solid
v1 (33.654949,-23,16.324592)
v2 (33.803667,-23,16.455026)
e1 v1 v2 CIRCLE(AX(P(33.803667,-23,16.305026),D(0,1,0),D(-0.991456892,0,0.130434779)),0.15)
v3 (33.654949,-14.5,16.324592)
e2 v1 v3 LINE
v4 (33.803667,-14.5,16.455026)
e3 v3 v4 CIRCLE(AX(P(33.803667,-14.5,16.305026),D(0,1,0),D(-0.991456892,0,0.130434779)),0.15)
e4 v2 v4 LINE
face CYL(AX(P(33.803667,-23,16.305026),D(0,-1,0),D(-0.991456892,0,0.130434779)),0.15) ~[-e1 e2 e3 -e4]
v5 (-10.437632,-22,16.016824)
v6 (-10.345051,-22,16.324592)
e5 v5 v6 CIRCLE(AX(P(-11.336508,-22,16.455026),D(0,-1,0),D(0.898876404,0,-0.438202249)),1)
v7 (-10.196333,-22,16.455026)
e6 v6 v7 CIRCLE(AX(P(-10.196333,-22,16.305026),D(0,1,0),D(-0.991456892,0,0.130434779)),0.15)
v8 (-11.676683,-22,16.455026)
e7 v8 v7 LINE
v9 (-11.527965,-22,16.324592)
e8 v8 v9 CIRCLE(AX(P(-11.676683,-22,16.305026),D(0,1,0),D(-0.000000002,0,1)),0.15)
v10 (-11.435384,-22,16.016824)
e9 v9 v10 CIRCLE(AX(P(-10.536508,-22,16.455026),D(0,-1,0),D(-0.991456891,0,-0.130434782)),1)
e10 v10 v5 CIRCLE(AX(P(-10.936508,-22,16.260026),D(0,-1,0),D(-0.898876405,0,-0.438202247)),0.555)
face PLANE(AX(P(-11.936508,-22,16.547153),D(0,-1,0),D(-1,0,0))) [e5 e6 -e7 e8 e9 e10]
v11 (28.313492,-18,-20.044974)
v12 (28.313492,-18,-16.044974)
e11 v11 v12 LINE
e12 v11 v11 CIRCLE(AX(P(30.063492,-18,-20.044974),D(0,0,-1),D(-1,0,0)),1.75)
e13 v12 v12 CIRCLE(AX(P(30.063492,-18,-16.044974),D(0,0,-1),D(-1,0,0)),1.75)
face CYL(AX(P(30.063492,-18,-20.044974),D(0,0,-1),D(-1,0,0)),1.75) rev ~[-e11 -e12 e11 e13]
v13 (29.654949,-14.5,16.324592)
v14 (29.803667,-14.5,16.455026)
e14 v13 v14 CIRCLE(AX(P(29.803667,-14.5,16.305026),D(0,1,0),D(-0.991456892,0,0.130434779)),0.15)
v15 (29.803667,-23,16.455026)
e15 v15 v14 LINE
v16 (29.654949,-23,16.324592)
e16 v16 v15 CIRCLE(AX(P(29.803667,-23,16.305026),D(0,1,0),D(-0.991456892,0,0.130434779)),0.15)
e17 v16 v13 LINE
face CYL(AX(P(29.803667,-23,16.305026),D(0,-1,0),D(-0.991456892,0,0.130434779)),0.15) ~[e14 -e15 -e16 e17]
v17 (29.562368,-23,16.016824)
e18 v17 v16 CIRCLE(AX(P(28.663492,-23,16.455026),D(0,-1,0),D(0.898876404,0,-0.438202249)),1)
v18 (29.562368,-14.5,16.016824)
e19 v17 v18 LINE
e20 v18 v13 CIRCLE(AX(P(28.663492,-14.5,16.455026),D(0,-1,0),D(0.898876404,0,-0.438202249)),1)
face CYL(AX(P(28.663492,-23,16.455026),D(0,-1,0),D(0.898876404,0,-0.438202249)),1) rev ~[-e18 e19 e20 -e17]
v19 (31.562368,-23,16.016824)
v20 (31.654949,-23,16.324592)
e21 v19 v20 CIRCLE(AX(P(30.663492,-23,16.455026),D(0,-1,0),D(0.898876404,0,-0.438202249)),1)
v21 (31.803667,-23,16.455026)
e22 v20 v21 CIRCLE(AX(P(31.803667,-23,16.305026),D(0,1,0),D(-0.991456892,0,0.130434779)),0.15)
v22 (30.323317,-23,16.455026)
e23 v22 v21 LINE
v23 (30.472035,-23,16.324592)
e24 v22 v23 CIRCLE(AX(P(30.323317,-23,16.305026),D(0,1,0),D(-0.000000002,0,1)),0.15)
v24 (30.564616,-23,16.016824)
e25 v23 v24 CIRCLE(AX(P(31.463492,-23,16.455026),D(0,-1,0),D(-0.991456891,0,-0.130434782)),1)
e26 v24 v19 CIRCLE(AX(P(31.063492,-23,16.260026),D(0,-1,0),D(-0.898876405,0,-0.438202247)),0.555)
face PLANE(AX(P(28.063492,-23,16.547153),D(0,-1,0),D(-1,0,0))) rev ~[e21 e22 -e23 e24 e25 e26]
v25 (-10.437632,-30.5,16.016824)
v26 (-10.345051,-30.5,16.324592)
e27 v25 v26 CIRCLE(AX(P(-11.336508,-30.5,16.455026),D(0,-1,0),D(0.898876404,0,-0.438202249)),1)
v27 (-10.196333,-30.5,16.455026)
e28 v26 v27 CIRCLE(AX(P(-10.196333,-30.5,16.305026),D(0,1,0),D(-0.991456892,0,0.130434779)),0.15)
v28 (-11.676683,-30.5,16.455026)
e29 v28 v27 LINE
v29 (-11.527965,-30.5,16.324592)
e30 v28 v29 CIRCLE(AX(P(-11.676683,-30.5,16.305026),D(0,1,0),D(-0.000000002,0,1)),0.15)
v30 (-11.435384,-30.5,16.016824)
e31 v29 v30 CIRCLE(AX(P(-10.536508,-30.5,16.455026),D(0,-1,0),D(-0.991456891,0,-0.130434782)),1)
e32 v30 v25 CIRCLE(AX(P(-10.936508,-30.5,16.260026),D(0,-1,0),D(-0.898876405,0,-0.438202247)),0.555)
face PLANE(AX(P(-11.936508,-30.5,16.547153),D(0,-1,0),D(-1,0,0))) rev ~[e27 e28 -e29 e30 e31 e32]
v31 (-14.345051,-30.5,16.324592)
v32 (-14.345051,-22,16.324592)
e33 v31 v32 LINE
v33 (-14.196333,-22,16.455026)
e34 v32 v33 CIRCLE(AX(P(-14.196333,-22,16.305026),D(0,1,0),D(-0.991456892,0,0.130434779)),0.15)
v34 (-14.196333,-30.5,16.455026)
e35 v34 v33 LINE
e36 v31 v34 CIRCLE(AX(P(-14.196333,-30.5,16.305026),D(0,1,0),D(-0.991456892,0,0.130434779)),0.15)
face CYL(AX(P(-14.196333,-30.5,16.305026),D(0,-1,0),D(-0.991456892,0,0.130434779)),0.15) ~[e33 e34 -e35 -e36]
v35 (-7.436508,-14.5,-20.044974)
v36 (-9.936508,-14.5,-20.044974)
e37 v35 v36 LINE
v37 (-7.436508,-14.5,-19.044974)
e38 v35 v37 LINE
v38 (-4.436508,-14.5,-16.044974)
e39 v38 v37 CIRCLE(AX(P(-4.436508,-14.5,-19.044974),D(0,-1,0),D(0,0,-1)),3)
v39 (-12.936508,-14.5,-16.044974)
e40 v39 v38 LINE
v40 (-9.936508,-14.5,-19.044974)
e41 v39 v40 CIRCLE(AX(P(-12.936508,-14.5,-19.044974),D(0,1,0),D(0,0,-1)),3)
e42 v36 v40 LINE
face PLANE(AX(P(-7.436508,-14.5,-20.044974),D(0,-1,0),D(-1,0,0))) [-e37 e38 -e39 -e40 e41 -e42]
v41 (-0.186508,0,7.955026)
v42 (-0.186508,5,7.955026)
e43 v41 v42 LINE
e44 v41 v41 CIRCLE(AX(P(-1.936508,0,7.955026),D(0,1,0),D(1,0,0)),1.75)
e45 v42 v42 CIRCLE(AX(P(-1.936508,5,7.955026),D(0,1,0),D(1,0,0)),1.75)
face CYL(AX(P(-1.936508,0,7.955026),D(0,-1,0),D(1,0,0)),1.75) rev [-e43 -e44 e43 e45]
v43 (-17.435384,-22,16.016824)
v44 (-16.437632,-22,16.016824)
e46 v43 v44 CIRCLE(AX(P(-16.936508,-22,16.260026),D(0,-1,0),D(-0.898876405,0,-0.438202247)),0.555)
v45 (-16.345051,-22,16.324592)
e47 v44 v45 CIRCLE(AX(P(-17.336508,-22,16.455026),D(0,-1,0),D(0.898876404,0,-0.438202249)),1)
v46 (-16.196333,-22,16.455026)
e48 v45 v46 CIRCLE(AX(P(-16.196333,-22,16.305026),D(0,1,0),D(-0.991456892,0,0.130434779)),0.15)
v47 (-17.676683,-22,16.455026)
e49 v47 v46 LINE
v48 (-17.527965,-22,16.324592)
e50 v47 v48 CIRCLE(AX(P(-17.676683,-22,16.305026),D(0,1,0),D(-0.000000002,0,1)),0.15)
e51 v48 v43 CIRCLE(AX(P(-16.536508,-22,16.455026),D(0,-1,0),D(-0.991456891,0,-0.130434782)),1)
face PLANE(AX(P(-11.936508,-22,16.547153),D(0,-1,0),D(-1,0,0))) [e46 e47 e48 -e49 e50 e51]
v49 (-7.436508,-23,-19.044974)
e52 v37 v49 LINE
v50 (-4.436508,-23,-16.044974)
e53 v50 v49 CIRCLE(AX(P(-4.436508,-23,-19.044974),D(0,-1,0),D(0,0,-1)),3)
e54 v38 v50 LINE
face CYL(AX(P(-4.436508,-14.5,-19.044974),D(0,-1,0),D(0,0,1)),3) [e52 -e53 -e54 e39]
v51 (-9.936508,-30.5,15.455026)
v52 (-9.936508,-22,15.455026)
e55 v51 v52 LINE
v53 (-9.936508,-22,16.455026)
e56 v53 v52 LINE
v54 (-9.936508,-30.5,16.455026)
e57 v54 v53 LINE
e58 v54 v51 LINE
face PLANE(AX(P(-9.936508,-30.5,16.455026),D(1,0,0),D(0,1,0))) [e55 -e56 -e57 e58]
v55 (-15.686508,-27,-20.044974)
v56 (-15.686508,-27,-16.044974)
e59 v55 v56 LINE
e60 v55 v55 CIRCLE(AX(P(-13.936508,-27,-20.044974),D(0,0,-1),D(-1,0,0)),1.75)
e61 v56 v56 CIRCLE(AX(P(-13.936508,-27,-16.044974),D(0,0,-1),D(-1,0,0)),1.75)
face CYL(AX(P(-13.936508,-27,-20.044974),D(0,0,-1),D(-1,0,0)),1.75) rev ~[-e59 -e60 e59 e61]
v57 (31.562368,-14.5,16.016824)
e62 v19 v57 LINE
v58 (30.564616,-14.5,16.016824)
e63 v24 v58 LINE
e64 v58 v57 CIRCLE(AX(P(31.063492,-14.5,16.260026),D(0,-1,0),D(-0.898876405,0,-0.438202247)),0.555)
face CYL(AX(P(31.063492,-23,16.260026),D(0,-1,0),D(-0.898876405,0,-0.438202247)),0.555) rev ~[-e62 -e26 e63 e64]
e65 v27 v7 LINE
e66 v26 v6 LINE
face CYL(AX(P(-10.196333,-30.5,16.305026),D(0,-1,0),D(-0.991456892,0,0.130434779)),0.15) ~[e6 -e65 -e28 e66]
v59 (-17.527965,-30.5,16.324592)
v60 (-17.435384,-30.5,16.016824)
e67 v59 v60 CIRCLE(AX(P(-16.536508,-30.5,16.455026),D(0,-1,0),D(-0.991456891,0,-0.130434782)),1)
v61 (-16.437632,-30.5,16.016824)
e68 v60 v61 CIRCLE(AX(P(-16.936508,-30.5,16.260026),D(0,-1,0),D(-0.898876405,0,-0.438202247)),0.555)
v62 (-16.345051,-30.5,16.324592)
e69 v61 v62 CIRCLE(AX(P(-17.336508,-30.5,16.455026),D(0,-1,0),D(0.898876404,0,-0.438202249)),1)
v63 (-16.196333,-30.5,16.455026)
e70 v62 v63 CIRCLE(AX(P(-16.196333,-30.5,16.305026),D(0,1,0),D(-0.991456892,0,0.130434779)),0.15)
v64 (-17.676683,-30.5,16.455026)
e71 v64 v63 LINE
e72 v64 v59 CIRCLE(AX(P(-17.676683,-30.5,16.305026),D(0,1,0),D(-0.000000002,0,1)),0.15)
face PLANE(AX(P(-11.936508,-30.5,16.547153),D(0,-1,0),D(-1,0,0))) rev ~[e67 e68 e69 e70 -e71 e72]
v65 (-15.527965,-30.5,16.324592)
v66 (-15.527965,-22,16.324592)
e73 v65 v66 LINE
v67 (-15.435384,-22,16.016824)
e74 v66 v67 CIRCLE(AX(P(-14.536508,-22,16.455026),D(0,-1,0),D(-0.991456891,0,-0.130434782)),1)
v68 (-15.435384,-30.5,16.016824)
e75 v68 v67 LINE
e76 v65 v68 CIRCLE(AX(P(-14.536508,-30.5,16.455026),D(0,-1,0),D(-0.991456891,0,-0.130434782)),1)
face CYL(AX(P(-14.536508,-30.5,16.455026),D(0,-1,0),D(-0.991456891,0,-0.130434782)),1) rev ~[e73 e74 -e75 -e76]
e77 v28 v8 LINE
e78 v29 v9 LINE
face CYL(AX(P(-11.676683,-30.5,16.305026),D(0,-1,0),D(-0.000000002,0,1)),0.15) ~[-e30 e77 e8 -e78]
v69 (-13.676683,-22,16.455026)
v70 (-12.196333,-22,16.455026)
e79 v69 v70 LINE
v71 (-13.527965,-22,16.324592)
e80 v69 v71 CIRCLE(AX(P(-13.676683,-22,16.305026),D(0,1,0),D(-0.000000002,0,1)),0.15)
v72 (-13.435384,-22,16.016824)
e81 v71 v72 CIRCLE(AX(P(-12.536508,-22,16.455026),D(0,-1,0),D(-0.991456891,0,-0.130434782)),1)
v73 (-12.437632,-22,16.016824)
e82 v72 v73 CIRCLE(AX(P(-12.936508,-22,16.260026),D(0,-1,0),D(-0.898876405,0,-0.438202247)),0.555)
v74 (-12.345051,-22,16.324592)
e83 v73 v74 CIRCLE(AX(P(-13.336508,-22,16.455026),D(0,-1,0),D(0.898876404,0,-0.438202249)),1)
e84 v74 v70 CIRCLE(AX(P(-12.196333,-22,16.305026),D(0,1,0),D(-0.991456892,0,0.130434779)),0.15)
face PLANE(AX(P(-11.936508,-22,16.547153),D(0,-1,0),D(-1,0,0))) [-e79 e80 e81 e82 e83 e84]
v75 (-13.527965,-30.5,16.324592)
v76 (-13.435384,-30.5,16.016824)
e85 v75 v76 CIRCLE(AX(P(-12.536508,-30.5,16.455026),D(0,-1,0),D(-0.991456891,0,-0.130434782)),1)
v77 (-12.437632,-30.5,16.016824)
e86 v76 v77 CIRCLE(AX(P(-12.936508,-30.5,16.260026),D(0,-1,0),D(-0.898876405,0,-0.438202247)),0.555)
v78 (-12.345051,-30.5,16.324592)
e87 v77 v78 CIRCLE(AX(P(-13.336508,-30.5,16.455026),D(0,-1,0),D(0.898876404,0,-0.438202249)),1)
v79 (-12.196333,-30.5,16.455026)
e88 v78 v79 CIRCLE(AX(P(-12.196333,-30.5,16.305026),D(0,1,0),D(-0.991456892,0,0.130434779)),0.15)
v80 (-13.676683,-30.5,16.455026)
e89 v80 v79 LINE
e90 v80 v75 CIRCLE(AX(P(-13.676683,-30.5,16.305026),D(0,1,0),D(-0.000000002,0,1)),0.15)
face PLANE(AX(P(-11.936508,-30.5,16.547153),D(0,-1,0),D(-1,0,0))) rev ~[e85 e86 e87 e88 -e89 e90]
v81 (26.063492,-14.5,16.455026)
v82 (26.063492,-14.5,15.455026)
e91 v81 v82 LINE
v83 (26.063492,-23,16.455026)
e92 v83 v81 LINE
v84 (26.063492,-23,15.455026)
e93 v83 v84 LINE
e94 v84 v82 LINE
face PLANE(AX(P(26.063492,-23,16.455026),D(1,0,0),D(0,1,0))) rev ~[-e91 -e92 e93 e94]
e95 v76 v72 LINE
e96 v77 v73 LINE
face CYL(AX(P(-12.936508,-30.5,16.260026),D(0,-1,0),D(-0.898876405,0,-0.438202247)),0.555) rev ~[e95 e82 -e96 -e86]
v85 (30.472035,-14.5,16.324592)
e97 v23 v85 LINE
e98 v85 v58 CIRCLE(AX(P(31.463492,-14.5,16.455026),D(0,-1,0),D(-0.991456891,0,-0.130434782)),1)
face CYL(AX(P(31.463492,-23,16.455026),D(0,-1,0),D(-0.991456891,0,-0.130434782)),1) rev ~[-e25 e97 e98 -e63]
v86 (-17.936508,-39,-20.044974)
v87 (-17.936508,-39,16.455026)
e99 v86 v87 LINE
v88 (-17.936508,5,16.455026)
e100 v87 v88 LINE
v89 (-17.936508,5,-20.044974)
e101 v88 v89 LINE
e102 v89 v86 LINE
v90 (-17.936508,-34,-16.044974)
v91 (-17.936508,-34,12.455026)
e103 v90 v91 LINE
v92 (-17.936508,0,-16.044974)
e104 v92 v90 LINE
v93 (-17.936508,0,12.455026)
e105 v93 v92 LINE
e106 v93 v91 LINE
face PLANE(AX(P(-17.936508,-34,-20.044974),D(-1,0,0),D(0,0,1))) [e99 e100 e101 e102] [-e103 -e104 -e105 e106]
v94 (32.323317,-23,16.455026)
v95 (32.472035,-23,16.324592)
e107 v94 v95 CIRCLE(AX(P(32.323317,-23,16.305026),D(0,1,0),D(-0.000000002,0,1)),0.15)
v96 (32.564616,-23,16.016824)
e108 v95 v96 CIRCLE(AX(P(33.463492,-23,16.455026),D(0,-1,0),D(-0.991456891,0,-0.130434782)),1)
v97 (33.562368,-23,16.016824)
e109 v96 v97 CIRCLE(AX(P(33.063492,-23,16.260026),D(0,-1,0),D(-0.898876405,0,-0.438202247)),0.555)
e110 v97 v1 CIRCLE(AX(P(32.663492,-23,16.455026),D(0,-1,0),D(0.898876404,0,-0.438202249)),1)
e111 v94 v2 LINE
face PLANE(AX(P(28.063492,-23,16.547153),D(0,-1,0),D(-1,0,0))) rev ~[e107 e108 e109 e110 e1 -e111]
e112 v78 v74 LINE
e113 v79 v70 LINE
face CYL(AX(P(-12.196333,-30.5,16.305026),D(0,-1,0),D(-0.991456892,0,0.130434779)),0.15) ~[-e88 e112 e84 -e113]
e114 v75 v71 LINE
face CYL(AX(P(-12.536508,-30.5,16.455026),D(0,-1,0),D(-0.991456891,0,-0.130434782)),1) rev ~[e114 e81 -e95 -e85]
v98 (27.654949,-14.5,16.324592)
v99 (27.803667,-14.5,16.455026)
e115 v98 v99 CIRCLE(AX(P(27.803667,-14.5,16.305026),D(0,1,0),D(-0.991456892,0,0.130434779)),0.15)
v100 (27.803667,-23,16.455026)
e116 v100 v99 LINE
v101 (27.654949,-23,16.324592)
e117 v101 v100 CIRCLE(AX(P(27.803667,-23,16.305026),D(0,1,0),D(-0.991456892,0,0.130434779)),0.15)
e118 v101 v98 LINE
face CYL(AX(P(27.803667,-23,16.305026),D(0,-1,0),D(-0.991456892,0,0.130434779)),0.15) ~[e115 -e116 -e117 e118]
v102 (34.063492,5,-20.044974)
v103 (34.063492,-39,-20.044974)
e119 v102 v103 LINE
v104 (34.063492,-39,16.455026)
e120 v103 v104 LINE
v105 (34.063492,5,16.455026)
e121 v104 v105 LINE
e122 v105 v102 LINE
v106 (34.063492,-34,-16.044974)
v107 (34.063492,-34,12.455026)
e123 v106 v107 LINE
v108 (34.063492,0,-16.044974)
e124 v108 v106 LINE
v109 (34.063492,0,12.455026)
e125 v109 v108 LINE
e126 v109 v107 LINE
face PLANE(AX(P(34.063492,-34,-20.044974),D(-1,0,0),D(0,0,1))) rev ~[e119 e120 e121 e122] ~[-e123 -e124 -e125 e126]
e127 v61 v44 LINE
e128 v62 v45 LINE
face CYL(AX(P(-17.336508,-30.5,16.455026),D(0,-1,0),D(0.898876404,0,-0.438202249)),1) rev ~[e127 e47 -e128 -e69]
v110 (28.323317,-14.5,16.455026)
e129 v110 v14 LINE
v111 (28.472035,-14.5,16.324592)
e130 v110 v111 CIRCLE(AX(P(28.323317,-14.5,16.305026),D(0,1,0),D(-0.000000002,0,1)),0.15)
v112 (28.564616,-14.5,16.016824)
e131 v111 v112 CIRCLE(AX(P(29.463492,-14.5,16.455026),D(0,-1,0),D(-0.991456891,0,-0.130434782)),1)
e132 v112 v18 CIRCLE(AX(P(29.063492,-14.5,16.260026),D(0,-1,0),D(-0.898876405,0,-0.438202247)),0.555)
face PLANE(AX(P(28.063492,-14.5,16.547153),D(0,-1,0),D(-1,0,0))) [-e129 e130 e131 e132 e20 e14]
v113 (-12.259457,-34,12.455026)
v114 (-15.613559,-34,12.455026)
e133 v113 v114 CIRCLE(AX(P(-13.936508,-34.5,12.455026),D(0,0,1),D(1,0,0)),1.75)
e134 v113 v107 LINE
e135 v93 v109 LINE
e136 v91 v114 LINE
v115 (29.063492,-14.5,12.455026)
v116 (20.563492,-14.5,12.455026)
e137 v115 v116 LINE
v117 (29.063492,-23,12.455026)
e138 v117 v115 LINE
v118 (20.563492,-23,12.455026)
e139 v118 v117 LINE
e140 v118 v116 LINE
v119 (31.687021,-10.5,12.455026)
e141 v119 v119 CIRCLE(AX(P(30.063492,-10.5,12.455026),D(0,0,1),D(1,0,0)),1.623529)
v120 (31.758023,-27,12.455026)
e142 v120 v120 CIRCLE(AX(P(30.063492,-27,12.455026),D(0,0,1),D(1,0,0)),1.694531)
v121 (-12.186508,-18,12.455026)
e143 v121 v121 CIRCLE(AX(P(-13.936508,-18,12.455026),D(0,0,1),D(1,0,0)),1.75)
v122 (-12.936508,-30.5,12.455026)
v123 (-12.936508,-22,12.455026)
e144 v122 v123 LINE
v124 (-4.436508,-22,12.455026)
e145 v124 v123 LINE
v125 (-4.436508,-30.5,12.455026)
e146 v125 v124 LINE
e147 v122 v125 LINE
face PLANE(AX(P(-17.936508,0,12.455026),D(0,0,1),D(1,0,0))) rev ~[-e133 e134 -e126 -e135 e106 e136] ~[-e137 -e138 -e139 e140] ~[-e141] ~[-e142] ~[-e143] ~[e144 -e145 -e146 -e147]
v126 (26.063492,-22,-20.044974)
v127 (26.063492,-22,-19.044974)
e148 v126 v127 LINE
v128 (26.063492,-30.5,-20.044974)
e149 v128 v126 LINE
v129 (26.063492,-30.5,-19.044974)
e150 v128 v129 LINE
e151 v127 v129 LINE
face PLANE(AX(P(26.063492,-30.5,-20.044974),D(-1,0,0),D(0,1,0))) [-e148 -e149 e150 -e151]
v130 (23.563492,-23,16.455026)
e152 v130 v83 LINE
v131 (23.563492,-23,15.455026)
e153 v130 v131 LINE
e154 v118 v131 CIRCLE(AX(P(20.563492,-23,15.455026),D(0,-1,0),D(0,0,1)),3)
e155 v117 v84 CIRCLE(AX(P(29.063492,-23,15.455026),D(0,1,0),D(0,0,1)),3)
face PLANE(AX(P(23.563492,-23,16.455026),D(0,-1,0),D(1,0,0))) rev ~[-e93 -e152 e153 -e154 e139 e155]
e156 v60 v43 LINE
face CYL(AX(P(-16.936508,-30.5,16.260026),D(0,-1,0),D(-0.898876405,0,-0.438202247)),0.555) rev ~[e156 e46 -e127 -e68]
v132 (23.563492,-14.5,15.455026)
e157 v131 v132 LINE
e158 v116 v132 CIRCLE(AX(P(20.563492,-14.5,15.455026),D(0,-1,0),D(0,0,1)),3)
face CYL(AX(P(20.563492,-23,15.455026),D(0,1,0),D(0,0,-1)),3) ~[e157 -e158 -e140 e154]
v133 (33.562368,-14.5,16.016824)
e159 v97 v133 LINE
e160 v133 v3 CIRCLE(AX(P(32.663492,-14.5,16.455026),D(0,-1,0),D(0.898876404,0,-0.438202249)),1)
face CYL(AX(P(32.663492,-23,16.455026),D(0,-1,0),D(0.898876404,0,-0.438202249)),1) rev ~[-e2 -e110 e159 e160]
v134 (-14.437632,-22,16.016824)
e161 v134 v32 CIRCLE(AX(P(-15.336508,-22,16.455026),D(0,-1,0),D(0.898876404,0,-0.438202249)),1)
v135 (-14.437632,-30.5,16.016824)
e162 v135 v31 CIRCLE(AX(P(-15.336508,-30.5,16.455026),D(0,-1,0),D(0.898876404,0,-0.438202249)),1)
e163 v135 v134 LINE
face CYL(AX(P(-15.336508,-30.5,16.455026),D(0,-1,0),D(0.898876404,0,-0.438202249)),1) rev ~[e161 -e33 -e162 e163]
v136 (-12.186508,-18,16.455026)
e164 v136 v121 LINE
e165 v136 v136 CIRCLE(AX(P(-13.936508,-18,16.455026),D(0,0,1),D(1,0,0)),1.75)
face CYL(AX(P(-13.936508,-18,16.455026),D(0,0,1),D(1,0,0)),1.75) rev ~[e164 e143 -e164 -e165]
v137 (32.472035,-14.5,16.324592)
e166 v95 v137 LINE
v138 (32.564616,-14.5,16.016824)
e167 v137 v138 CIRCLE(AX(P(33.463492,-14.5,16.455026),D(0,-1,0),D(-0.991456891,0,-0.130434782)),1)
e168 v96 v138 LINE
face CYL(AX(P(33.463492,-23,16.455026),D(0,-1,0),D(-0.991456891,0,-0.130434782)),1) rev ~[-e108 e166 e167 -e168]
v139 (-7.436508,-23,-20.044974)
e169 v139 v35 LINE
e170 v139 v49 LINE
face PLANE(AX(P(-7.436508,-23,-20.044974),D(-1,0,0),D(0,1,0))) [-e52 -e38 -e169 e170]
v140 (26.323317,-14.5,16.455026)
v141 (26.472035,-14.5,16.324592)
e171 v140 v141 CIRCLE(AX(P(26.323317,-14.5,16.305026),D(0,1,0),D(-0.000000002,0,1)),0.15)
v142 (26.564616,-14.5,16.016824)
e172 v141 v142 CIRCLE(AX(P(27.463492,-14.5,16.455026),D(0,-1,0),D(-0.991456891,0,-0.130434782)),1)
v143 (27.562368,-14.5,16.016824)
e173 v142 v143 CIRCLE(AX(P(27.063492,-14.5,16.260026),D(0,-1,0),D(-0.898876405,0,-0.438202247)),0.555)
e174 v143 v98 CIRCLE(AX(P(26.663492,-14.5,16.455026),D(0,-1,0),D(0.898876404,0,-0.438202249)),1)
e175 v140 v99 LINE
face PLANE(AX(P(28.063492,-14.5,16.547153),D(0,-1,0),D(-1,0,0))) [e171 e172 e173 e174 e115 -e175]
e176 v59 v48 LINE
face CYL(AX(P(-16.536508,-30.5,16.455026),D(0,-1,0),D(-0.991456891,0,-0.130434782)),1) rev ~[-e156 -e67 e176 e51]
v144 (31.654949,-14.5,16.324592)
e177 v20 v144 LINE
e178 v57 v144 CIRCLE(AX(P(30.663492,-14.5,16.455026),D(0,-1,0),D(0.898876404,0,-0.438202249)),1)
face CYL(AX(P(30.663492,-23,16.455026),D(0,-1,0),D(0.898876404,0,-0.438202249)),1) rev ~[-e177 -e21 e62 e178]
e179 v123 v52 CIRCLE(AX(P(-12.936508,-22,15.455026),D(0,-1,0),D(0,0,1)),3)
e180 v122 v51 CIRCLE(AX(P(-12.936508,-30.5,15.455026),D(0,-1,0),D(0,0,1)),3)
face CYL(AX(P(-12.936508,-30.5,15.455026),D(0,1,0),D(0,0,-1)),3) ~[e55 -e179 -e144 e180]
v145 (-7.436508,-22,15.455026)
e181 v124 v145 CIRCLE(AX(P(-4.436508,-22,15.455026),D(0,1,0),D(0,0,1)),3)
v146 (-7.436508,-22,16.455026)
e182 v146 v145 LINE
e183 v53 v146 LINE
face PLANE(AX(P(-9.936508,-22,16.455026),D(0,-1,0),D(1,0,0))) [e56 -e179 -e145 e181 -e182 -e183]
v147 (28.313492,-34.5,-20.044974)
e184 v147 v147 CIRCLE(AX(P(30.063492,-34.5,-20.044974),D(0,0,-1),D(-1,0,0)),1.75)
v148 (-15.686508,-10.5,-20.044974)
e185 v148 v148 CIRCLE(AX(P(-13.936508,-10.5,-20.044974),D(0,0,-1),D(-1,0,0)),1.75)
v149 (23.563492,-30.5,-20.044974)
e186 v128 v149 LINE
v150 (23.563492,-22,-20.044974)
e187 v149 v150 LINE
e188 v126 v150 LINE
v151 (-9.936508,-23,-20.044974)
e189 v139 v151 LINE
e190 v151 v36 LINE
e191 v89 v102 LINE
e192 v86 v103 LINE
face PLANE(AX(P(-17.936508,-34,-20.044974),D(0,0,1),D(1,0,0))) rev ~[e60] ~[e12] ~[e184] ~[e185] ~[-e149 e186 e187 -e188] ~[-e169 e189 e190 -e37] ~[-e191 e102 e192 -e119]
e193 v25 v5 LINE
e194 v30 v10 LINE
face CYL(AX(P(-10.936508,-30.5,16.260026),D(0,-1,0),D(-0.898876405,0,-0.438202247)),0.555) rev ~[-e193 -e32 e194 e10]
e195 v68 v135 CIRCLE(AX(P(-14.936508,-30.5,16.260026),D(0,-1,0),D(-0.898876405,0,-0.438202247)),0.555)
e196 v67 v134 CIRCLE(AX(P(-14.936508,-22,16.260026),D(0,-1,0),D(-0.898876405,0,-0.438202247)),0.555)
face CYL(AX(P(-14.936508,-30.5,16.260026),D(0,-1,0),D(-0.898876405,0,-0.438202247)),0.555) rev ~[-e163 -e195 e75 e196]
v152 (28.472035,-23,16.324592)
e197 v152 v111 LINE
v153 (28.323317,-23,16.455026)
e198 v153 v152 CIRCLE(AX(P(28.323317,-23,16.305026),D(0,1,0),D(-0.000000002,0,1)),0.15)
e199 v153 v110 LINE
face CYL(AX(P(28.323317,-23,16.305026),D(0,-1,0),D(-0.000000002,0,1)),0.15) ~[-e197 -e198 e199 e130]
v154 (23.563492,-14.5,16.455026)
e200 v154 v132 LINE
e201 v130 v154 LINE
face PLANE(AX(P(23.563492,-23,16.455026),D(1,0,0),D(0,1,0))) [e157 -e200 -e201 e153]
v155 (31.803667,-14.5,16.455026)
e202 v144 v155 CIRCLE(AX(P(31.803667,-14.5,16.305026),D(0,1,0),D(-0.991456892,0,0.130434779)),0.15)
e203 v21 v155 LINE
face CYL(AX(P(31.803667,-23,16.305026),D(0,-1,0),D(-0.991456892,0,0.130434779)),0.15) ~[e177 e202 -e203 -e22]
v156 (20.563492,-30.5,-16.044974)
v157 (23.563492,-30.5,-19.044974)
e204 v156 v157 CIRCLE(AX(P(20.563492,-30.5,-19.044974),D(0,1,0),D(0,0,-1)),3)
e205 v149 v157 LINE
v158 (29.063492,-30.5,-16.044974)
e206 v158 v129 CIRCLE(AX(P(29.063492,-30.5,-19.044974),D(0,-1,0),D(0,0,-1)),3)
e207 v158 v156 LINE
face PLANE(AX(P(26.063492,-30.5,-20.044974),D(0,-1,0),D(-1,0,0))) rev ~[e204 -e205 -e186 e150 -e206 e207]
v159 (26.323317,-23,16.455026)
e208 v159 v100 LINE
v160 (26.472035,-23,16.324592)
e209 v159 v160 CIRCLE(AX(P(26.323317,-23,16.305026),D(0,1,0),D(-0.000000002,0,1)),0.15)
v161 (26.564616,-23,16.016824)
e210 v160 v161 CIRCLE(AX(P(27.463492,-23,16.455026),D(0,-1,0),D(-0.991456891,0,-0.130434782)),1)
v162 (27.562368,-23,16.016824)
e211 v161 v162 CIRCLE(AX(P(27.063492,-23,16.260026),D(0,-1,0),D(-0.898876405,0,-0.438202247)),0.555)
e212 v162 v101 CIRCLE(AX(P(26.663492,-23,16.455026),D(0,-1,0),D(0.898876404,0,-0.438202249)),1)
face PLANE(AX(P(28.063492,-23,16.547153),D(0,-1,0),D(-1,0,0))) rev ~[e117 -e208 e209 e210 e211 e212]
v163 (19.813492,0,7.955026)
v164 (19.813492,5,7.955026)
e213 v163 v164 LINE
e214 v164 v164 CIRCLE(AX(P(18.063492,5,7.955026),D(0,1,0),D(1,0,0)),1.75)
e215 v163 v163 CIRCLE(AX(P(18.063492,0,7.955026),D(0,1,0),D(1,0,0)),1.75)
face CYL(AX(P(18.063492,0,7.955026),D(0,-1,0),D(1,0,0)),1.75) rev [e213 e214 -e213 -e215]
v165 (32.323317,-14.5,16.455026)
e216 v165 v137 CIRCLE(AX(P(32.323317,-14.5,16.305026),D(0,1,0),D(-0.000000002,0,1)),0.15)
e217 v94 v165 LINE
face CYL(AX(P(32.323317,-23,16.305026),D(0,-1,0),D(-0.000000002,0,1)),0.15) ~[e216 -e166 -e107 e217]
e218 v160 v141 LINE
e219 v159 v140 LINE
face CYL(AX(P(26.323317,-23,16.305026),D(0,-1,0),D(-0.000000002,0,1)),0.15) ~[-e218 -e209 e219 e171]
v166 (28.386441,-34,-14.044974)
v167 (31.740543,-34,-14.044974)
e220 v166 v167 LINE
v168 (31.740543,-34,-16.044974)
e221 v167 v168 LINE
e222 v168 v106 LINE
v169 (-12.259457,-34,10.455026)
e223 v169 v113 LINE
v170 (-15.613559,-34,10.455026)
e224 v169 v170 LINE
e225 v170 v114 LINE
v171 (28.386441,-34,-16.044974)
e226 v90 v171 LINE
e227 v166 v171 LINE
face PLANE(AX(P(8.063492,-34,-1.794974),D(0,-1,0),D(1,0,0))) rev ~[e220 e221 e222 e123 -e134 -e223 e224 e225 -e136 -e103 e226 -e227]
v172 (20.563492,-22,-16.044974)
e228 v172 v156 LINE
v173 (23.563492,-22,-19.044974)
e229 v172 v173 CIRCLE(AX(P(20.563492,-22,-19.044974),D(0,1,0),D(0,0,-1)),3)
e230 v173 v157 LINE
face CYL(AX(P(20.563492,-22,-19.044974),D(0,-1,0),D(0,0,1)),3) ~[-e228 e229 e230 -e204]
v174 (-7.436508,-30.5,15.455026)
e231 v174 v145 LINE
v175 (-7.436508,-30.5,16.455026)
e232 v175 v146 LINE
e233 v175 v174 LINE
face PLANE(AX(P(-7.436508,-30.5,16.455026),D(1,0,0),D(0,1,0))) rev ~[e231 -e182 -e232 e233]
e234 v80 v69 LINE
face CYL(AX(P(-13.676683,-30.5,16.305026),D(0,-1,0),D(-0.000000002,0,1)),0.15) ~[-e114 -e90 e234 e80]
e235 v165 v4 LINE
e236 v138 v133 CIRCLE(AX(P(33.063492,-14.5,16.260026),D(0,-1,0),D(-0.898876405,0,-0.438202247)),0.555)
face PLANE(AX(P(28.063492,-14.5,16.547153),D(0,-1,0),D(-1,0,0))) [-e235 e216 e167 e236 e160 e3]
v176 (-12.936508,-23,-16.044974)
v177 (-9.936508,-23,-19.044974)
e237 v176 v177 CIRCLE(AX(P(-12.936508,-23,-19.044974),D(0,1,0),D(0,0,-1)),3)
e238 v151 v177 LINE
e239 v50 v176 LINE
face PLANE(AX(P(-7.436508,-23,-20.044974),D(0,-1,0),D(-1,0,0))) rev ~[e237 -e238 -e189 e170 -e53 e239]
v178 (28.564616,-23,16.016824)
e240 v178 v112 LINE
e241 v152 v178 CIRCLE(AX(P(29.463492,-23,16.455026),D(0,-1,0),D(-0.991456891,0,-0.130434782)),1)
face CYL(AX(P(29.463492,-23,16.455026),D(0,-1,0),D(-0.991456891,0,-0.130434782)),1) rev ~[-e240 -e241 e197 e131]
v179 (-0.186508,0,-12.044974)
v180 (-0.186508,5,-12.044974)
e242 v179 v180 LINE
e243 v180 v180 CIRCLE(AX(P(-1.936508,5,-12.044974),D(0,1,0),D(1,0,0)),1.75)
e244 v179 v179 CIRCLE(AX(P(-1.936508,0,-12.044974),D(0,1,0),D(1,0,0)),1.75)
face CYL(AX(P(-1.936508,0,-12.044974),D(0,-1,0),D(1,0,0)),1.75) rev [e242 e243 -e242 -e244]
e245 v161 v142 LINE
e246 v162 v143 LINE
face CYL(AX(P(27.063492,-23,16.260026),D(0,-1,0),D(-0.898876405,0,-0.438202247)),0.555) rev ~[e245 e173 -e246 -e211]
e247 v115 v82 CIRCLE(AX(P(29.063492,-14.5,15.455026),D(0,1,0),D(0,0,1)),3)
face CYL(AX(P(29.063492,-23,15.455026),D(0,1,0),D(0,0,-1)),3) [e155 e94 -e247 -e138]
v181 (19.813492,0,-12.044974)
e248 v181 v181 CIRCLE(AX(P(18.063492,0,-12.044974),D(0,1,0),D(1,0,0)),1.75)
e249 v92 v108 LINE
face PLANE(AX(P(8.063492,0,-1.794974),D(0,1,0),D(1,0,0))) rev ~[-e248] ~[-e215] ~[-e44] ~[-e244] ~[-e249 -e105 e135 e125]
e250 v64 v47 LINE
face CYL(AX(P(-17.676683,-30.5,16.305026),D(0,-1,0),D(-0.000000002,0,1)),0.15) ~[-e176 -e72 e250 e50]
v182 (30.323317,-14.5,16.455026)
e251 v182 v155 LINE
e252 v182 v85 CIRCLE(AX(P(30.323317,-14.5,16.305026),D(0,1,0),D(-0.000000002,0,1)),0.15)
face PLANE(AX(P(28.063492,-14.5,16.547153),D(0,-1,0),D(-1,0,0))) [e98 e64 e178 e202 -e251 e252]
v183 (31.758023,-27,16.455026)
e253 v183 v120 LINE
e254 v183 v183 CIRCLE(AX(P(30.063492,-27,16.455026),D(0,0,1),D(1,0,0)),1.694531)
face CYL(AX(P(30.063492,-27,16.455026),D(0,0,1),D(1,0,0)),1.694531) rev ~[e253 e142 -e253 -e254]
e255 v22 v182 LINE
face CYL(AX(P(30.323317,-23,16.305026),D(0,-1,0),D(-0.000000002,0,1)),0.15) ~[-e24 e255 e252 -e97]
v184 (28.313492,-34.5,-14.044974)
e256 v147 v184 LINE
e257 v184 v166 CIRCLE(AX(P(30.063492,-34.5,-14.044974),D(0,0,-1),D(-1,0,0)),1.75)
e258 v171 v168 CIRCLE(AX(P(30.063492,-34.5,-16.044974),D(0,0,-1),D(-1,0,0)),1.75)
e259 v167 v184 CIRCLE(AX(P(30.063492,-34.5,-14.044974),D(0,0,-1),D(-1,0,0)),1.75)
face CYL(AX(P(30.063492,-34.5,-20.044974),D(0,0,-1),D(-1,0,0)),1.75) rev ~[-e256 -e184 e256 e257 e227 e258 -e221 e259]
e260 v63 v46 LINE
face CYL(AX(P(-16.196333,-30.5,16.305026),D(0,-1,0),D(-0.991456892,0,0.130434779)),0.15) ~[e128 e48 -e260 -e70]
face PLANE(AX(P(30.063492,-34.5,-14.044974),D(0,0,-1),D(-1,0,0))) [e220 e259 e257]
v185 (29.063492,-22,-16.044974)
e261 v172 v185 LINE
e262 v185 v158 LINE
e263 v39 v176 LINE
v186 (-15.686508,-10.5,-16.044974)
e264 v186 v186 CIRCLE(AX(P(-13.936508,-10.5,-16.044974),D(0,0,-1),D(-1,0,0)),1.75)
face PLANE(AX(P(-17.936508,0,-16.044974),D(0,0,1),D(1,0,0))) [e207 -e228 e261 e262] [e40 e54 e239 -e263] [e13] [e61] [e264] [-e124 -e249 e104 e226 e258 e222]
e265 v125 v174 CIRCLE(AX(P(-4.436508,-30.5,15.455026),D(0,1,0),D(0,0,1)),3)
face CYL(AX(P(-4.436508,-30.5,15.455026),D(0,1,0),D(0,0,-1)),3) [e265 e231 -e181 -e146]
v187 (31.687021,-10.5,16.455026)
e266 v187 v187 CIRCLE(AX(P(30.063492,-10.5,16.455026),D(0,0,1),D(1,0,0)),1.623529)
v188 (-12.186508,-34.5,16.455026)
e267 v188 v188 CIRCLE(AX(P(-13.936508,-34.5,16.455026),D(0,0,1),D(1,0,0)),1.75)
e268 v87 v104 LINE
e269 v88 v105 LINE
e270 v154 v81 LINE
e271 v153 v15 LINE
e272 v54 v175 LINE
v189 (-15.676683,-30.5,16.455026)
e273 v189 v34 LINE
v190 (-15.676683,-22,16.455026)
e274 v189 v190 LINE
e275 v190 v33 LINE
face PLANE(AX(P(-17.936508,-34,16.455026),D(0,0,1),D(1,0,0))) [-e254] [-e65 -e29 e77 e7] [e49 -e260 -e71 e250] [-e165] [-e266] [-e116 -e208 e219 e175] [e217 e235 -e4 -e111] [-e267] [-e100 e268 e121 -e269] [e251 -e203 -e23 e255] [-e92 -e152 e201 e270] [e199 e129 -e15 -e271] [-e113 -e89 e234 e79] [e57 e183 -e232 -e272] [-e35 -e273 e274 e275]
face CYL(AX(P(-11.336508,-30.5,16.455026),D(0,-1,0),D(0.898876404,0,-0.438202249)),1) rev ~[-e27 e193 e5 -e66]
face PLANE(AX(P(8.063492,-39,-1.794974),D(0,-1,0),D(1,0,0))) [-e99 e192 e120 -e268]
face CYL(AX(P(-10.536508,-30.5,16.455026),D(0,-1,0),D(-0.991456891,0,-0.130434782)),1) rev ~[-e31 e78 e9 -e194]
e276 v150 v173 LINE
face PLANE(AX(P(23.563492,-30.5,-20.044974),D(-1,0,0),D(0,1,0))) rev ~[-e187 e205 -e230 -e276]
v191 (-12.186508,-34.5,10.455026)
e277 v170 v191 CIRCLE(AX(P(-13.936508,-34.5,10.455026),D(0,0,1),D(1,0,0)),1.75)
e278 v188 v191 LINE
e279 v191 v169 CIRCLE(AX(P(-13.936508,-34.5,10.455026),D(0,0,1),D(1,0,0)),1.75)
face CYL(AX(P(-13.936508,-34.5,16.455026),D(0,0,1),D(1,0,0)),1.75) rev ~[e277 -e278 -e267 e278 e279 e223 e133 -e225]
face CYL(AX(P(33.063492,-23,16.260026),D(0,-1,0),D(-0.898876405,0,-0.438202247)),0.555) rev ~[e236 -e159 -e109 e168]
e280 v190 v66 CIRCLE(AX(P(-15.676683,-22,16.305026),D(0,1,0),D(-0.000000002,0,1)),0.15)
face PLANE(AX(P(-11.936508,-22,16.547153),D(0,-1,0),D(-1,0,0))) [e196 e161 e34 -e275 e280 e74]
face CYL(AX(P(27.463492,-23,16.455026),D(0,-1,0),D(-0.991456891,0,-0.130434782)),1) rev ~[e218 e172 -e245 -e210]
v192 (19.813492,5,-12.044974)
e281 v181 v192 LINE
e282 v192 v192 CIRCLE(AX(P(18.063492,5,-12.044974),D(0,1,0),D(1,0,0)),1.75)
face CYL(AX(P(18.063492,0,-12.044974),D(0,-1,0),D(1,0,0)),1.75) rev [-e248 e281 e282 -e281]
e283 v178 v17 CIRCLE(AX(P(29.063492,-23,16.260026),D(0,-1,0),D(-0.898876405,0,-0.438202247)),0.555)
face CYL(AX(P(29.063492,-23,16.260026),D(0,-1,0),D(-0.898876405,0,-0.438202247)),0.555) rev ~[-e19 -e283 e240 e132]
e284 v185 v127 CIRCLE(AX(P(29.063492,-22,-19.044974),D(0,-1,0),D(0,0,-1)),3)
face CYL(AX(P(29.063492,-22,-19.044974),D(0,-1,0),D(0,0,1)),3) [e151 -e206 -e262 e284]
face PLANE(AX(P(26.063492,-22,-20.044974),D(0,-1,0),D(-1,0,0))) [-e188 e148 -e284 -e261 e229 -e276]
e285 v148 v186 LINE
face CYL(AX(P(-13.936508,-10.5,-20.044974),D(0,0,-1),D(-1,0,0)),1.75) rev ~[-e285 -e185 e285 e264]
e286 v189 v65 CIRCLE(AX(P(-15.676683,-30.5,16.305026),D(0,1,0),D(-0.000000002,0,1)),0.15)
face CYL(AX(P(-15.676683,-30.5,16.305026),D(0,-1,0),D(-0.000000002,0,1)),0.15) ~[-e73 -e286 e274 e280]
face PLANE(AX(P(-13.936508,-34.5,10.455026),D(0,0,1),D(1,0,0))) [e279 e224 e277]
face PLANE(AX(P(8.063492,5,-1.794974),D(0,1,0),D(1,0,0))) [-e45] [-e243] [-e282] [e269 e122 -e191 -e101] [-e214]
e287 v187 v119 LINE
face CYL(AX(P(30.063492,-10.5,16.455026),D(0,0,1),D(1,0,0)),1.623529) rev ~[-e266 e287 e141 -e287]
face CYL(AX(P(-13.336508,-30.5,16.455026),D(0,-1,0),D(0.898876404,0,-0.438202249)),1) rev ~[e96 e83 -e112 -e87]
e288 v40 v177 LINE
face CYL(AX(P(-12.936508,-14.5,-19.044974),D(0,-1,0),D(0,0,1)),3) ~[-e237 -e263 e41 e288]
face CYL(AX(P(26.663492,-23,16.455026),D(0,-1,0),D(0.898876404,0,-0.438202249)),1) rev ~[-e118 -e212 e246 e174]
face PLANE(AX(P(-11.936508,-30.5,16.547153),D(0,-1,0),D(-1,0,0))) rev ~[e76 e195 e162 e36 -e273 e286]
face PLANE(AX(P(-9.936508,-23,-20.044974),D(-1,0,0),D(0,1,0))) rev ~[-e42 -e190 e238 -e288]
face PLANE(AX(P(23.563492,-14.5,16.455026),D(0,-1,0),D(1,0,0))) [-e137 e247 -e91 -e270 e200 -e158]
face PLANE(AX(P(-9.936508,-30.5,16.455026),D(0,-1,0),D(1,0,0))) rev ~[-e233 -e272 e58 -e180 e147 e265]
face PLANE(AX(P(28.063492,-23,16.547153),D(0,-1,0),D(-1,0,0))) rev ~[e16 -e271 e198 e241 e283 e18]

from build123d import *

# Parameters (mm, degrees)
SKETCH1_W           = 52
SKETCH1_H           = 36.5
SKETCH1_R           = 1.75
BOSS_EXTRUDE1_DEPTH = 5
SKETCH2_W           = 52
SKETCH2_H           = 4
BOSS_EXTRUDE2_DEPTH = 34
SKETCH3_W           = 52
SKETCH3_H           = 36.5
BOSS_EXTRUDE3_DEPTH = 5
SKETCH4_W           = 2.5
SKETCH4_H           = 8.5
CUT_EXTRUDE1_DEPTH  = 8
CUT_EXTRUDE2_DEPTH  = 8.5
CUT_EXTRUDE3_DEPTH  = 8.5
SKETCH7_R           = 1.75
SKETCH7_R_2         = 1.623529306
SKETCH7_R_3         = 1.694530851
CUT_EXTRUDE4_DEPTH  = 6
SKETCH8_W           = 2.5
SKETCH8_H           = 8.5
CUT_EXTRUDE5_DEPTH  = 6
FILLET1_R           = 3
SKETCH9_R           = 1.75
CUT_EXTRUDE6_DEPTH  = 6


with BuildPart() as part:
    # Sketch1 → Boss-Extrude1 (new body)
    with BuildSketch(Plane(origin=(0, 0, 0), x_dir=(1, 0, 0), z_dir=(0, 1, 0))):
        with Locations((8.063492063, 1.794973545)):
            Rectangle(SKETCH1_W, SKETCH1_H)
        with Locations((-1.936507937, 12.044973545)):
            Circle(SKETCH1_R, mode=Mode.SUBTRACT)
        with Locations((18.063492063, 12.044973545)):
            Circle(SKETCH1_R, mode=Mode.SUBTRACT)
        with Locations((18.063492063, -7.955026455)):
            Circle(SKETCH1_R, mode=Mode.SUBTRACT)
        with Locations((-1.936507937, -7.955026455)):
            Circle(SKETCH1_R, mode=Mode.SUBTRACT)
    extrude(amount=BOSS_EXTRUDE1_DEPTH)

    # Sketch2 → Boss-Extrude2 (add)
    with BuildSketch(Plane.XZ):
        with Locations((8.063492063, 14.455026455)):
            Rectangle(SKETCH2_W, SKETCH2_H)
        with Locations((8.063492063, -18.044973545)):
            Rectangle(SKETCH2_W, SKETCH2_H)
    extrude(amount=BOSS_EXTRUDE2_DEPTH)

    # Sketch3 → Boss-Extrude3 (add)
    with BuildSketch(Plane.XZ.offset(34)):
        with Locations((8.063492063, -1.794973545)):
            Rectangle(SKETCH3_W, SKETCH3_H)
    extrude(amount=BOSS_EXTRUDE3_DEPTH)

    # Sketch4 → Cut-Extrude1 (cut)
    with BuildSketch(Plane.XY.offset(16.455026455)):
        with Locations((24.813492063, -18.75)):
            Rectangle(SKETCH4_W, SKETCH4_H)
        with Locations((-8.686507937, -26.25)):
            Rectangle(SKETCH4_W, SKETCH4_H)
    extrude(amount=-CUT_EXTRUDE1_DEPTH, mode=Mode.SUBTRACT)

    # Sketch5 → Cut-Extrude2 (cut)
    with BuildSketch(Plane(origin=(0, -30.5, 0), x_dir=(1, 0, 0), z_dir=(0, 1, 0))):
        with BuildLine():
            ThreePointArc((-11.435384341, -16.016824208), (-10.936507937, -15.705026455), (-10.437631532, -16.016824208))
            ThreePointArc((-10.437631532, -16.016824208), (-10.378896222, -16.166964301), (-10.345051045, -16.324591672))
            ThreePointArc((-10.345051045, -16.324591672), (-10.295239582, -16.417797867), (-10.196332511, -16.455026455))
            Line((-10.196332511, -16.455026455), (-9.936507937, -16.455026455))
            Line((-9.936507937, -16.455026455), (-9.936507937, -17.085026455))
            Line((-9.936507937, -17.085026455), (-13.936507937, -17.085026455))
            Line((-13.936507937, -17.085026455), (-13.936507937, -16.455026455))
            Line((-13.936507937, -16.455026455), (-13.676683362, -16.455026455))
            ThreePointArc((-13.676683362, -16.455026455), (-13.577776291, -16.417797867), (-13.527964828, -16.324591672))
            ThreePointArc((-13.527964828, -16.324591672), (-13.494119651, -16.166964301), (-13.435384341, -16.016824208))
            ThreePointArc((-13.435384341, -16.016824208), (-12.936507937, -15.705026455), (-12.437631532, -16.016824208))
            ThreePointArc((-12.437631532, -16.016824208), (-12.378896222, -16.166964301), (-12.345051045, -16.324591672))
            ThreePointArc((-12.345051045, -16.324591672), (-12.295239582, -16.417797867), (-12.196332511, -16.455026455))
            Line((-12.196332511, -16.455026455), (-11.676683362, -16.455026455))
            ThreePointArc((-11.676683362, -16.455026455), (-11.577776291, -16.417797867), (-11.527964828, -16.324591672))
            ThreePointArc((-11.527964828, -16.324591672), (-11.494119651, -16.166964301), (-11.435384341, -16.016824208))
        make_face()
        with BuildLine():
            ThreePointArc((-15.435384341, -16.016824208), (-14.936507937, -15.705026455), (-14.437631532, -16.016824208))
            ThreePointArc((-14.437631532, -16.016824208), (-14.378896222, -16.166964301), (-14.345051045, -16.324591672))
            ThreePointArc((-14.345051045, -16.324591672), (-14.295239582, -16.417797867), (-14.196332511, -16.455026455))
            Line((-14.196332511, -16.455026455), (-13.936507937, -16.455026455))
            Line((-13.936507937, -16.455026455), (-13.936507937, -17.085026455))
            Line((-13.936507937, -17.085026455), (-17.936507937, -17.085026455))
            Line((-17.936507937, -17.085026455), (-17.936507937, -16.455026455))
            Line((-17.936507937, -16.455026455), (-17.676683362, -16.455026455))
            ThreePointArc((-17.676683362, -16.455026455), (-17.577776291, -16.417797867), (-17.527964828, -16.324591672))
            ThreePointArc((-17.527964828, -16.324591672), (-17.494119651, -16.166964301), (-17.435384341, -16.016824208))
            ThreePointArc((-17.435384341, -16.016824208), (-16.936507937, -15.705026455), (-16.437631532, -16.016824208))
            ThreePointArc((-16.437631532, -16.016824208), (-16.378896222, -16.166964301), (-16.345051045, -16.324591672))
            ThreePointArc((-16.345051045, -16.324591672), (-16.295239582, -16.417797867), (-16.196332511, -16.455026455))
            Line((-16.196332511, -16.455026455), (-15.676683362, -16.455026455))
            ThreePointArc((-15.676683362, -16.455026455), (-15.577776291, -16.417797867), (-15.527964828, -16.324591672))
            ThreePointArc((-15.527964828, -16.324591672), (-15.494119651, -16.166964301), (-15.435384341, -16.016824208))
        make_face()
    extrude(amount=CUT_EXTRUDE2_DEPTH, mode=Mode.SUBTRACT)

    # Sketch6 → Cut-Extrude3 (cut)
    with BuildSketch(Plane(origin=(0, -23, 0), x_dir=(1, 0, 0), z_dir=(0, 1, 0))):
        with BuildLine():
            ThreePointArc((28.564615659, -16.016824208), (29.063492063, -15.705026455), (29.562368468, -16.016824208))
            ThreePointArc((29.562368468, -16.016824208), (29.621103778, -16.166964301), (29.654948955, -16.324591672))
            ThreePointArc((29.654948955, -16.324591672), (29.704760418, -16.417797867), (29.803667489, -16.455026455))
            Line((29.803667489, -16.455026455), (30.063492063, -16.455026455))
            Line((30.063492063, -16.455026455), (30.063492063, -17.085026455))
            Line((30.063492063, -17.085026455), (26.063492063, -17.085026455))
            Line((26.063492063, -17.085026455), (26.063492063, -16.455026455))
            Line((26.063492063, -16.455026455), (26.323316638, -16.455026455))
            ThreePointArc((26.323316638, -16.455026455), (26.422223709, -16.417797867), (26.472035172, -16.324591672))
            ThreePointArc((26.472035172, -16.324591672), (26.505880349, -16.166964301), (26.564615659, -16.016824208))
            ThreePointArc((26.564615659, -16.016824208), (27.063492063, -15.705026455), (27.562368468, -16.016824208))
            ThreePointArc((27.562368468, -16.016824208), (27.621103778, -16.166964301), (27.654948955, -16.324591672))
            ThreePointArc((27.654948955, -16.324591672), (27.704760418, -16.417797867), (27.803667489, -16.455026455))
            Line((27.803667489, -16.455026455), (28.323316638, -16.455026455))
            ThreePointArc((28.323316638, -16.455026455), (28.422223709, -16.417797867), (28.472035172, -16.324591672))
            ThreePointArc((28.472035172, -16.324591672), (28.505880349, -16.166964301), (28.564615659, -16.016824208))
        make_face()
        with BuildLine():
            ThreePointArc((32.564615659, -16.016824208), (33.063492063, -15.705026455), (33.562368468, -16.016824208))
            ThreePointArc((33.562368468, -16.016824208), (33.621103778, -16.166964301), (33.654948955, -16.324591672))
            ThreePointArc((33.654948955, -16.324591672), (33.704760418, -16.417797867), (33.803667489, -16.455026455))
            Line((33.803667489, -16.455026455), (34.063492063, -16.455026455))
            Line((34.063492063, -16.455026455), (34.063492063, -17.085026455))
            Line((34.063492063, -17.085026455), (30.063492063, -17.085026455))
            Line((30.063492063, -17.085026455), (30.063492063, -16.455026455))
            Line((30.063492063, -16.455026455), (30.323316638, -16.455026455))
            ThreePointArc((30.323316638, -16.455026455), (30.422223709, -16.417797867), (30.472035172, -16.324591672))
            ThreePointArc((30.472035172, -16.324591672), (30.505880349, -16.166964301), (30.564615659, -16.016824208))
            ThreePointArc((30.564615659, -16.016824208), (31.063492063, -15.705026455), (31.562368468, -16.016824208))
            ThreePointArc((31.562368468, -16.016824208), (31.621103778, -16.166964301), (31.654948955, -16.324591672))
            ThreePointArc((31.654948955, -16.324591672), (31.704760418, -16.417797867), (31.803667489, -16.455026455))
            Line((31.803667489, -16.455026455), (32.323316638, -16.455026455))
            ThreePointArc((32.323316638, -16.455026455), (32.422223709, -16.417797867), (32.472035172, -16.324591672))
            ThreePointArc((32.472035172, -16.324591672), (32.505880349, -16.166964301), (32.564615659, -16.016824208))
        make_face()
    extrude(amount=CUT_EXTRUDE3_DEPTH, mode=Mode.SUBTRACT)

    # Sketch7 → Cut-Extrude4 (cut)
    with BuildSketch(Plane.XY.offset(16.455026455)):
        with Locations((-13.936507937, -34.5)):
            Circle(SKETCH7_R)
        with Locations((-13.936507937, -18)):
            Circle(SKETCH7_R)
        with Locations((30.063492063, -10.5)):
            Circle(SKETCH7_R_2)
        with Locations((30.063492063, -27)):
            Circle(SKETCH7_R_3)
    extrude(amount=-CUT_EXTRUDE4_DEPTH, mode=Mode.SUBTRACT)

    # Sketch8 → Cut-Extrude5 (cut)
    with BuildSketch(Plane(origin=(0, 0, -20.044973545), x_dir=(-1, 0, 0), z_dir=(0, 0, -1))):
        with Locations((-24.813492063, -26.25)):
            Rectangle(SKETCH8_W, SKETCH8_H)
        with Locations((8.686507937, -18.75)):
            Rectangle(SKETCH8_W, SKETCH8_H)
    extrude(amount=-CUT_EXTRUDE5_DEPTH, mode=Mode.SUBTRACT)

    # Fillet1
    fillet1_edges = [part.edges().sort_by_distance(p)[0] for p in [
        (-9.936507937, -18.75, -16.044973545),
        (-7.436507937, -18.75, -16.044973545),
        (23.563492063, -26.25, -16.044973545),
        (26.063492063, -26.25, -16.044973545),
        (-7.436507937, -26.25, 12.455026455),
        (-9.936507937, -26.25, 12.455026455),
        (23.563492063, -18.75, 12.455026455),
        (26.063492063, -18.75, 12.455026455),
    ]]
    fillet(fillet1_edges, radius=FILLET1_R)

    # Sketch9 → Cut-Extrude6 (cut)
    with BuildSketch(Plane(origin=(0, 0, -20.044973545), x_dir=(-1, 0, 0), z_dir=(0, 0, -1))):
        with Locations((13.936507937, -10.5)):
            Circle(SKETCH9_R)
        with Locations((13.936507937, -27)):
            Circle(SKETCH9_R)
        with Locations((-30.063492063, -18)):
            Circle(SKETCH9_R)
        with Locations((-30.063492063, -34.5)):
            Circle(SKETCH9_R)
    extrude(amount=-CUT_EXTRUDE6_DEPTH, mode=Mode.SUBTRACT)


solid = part.part
